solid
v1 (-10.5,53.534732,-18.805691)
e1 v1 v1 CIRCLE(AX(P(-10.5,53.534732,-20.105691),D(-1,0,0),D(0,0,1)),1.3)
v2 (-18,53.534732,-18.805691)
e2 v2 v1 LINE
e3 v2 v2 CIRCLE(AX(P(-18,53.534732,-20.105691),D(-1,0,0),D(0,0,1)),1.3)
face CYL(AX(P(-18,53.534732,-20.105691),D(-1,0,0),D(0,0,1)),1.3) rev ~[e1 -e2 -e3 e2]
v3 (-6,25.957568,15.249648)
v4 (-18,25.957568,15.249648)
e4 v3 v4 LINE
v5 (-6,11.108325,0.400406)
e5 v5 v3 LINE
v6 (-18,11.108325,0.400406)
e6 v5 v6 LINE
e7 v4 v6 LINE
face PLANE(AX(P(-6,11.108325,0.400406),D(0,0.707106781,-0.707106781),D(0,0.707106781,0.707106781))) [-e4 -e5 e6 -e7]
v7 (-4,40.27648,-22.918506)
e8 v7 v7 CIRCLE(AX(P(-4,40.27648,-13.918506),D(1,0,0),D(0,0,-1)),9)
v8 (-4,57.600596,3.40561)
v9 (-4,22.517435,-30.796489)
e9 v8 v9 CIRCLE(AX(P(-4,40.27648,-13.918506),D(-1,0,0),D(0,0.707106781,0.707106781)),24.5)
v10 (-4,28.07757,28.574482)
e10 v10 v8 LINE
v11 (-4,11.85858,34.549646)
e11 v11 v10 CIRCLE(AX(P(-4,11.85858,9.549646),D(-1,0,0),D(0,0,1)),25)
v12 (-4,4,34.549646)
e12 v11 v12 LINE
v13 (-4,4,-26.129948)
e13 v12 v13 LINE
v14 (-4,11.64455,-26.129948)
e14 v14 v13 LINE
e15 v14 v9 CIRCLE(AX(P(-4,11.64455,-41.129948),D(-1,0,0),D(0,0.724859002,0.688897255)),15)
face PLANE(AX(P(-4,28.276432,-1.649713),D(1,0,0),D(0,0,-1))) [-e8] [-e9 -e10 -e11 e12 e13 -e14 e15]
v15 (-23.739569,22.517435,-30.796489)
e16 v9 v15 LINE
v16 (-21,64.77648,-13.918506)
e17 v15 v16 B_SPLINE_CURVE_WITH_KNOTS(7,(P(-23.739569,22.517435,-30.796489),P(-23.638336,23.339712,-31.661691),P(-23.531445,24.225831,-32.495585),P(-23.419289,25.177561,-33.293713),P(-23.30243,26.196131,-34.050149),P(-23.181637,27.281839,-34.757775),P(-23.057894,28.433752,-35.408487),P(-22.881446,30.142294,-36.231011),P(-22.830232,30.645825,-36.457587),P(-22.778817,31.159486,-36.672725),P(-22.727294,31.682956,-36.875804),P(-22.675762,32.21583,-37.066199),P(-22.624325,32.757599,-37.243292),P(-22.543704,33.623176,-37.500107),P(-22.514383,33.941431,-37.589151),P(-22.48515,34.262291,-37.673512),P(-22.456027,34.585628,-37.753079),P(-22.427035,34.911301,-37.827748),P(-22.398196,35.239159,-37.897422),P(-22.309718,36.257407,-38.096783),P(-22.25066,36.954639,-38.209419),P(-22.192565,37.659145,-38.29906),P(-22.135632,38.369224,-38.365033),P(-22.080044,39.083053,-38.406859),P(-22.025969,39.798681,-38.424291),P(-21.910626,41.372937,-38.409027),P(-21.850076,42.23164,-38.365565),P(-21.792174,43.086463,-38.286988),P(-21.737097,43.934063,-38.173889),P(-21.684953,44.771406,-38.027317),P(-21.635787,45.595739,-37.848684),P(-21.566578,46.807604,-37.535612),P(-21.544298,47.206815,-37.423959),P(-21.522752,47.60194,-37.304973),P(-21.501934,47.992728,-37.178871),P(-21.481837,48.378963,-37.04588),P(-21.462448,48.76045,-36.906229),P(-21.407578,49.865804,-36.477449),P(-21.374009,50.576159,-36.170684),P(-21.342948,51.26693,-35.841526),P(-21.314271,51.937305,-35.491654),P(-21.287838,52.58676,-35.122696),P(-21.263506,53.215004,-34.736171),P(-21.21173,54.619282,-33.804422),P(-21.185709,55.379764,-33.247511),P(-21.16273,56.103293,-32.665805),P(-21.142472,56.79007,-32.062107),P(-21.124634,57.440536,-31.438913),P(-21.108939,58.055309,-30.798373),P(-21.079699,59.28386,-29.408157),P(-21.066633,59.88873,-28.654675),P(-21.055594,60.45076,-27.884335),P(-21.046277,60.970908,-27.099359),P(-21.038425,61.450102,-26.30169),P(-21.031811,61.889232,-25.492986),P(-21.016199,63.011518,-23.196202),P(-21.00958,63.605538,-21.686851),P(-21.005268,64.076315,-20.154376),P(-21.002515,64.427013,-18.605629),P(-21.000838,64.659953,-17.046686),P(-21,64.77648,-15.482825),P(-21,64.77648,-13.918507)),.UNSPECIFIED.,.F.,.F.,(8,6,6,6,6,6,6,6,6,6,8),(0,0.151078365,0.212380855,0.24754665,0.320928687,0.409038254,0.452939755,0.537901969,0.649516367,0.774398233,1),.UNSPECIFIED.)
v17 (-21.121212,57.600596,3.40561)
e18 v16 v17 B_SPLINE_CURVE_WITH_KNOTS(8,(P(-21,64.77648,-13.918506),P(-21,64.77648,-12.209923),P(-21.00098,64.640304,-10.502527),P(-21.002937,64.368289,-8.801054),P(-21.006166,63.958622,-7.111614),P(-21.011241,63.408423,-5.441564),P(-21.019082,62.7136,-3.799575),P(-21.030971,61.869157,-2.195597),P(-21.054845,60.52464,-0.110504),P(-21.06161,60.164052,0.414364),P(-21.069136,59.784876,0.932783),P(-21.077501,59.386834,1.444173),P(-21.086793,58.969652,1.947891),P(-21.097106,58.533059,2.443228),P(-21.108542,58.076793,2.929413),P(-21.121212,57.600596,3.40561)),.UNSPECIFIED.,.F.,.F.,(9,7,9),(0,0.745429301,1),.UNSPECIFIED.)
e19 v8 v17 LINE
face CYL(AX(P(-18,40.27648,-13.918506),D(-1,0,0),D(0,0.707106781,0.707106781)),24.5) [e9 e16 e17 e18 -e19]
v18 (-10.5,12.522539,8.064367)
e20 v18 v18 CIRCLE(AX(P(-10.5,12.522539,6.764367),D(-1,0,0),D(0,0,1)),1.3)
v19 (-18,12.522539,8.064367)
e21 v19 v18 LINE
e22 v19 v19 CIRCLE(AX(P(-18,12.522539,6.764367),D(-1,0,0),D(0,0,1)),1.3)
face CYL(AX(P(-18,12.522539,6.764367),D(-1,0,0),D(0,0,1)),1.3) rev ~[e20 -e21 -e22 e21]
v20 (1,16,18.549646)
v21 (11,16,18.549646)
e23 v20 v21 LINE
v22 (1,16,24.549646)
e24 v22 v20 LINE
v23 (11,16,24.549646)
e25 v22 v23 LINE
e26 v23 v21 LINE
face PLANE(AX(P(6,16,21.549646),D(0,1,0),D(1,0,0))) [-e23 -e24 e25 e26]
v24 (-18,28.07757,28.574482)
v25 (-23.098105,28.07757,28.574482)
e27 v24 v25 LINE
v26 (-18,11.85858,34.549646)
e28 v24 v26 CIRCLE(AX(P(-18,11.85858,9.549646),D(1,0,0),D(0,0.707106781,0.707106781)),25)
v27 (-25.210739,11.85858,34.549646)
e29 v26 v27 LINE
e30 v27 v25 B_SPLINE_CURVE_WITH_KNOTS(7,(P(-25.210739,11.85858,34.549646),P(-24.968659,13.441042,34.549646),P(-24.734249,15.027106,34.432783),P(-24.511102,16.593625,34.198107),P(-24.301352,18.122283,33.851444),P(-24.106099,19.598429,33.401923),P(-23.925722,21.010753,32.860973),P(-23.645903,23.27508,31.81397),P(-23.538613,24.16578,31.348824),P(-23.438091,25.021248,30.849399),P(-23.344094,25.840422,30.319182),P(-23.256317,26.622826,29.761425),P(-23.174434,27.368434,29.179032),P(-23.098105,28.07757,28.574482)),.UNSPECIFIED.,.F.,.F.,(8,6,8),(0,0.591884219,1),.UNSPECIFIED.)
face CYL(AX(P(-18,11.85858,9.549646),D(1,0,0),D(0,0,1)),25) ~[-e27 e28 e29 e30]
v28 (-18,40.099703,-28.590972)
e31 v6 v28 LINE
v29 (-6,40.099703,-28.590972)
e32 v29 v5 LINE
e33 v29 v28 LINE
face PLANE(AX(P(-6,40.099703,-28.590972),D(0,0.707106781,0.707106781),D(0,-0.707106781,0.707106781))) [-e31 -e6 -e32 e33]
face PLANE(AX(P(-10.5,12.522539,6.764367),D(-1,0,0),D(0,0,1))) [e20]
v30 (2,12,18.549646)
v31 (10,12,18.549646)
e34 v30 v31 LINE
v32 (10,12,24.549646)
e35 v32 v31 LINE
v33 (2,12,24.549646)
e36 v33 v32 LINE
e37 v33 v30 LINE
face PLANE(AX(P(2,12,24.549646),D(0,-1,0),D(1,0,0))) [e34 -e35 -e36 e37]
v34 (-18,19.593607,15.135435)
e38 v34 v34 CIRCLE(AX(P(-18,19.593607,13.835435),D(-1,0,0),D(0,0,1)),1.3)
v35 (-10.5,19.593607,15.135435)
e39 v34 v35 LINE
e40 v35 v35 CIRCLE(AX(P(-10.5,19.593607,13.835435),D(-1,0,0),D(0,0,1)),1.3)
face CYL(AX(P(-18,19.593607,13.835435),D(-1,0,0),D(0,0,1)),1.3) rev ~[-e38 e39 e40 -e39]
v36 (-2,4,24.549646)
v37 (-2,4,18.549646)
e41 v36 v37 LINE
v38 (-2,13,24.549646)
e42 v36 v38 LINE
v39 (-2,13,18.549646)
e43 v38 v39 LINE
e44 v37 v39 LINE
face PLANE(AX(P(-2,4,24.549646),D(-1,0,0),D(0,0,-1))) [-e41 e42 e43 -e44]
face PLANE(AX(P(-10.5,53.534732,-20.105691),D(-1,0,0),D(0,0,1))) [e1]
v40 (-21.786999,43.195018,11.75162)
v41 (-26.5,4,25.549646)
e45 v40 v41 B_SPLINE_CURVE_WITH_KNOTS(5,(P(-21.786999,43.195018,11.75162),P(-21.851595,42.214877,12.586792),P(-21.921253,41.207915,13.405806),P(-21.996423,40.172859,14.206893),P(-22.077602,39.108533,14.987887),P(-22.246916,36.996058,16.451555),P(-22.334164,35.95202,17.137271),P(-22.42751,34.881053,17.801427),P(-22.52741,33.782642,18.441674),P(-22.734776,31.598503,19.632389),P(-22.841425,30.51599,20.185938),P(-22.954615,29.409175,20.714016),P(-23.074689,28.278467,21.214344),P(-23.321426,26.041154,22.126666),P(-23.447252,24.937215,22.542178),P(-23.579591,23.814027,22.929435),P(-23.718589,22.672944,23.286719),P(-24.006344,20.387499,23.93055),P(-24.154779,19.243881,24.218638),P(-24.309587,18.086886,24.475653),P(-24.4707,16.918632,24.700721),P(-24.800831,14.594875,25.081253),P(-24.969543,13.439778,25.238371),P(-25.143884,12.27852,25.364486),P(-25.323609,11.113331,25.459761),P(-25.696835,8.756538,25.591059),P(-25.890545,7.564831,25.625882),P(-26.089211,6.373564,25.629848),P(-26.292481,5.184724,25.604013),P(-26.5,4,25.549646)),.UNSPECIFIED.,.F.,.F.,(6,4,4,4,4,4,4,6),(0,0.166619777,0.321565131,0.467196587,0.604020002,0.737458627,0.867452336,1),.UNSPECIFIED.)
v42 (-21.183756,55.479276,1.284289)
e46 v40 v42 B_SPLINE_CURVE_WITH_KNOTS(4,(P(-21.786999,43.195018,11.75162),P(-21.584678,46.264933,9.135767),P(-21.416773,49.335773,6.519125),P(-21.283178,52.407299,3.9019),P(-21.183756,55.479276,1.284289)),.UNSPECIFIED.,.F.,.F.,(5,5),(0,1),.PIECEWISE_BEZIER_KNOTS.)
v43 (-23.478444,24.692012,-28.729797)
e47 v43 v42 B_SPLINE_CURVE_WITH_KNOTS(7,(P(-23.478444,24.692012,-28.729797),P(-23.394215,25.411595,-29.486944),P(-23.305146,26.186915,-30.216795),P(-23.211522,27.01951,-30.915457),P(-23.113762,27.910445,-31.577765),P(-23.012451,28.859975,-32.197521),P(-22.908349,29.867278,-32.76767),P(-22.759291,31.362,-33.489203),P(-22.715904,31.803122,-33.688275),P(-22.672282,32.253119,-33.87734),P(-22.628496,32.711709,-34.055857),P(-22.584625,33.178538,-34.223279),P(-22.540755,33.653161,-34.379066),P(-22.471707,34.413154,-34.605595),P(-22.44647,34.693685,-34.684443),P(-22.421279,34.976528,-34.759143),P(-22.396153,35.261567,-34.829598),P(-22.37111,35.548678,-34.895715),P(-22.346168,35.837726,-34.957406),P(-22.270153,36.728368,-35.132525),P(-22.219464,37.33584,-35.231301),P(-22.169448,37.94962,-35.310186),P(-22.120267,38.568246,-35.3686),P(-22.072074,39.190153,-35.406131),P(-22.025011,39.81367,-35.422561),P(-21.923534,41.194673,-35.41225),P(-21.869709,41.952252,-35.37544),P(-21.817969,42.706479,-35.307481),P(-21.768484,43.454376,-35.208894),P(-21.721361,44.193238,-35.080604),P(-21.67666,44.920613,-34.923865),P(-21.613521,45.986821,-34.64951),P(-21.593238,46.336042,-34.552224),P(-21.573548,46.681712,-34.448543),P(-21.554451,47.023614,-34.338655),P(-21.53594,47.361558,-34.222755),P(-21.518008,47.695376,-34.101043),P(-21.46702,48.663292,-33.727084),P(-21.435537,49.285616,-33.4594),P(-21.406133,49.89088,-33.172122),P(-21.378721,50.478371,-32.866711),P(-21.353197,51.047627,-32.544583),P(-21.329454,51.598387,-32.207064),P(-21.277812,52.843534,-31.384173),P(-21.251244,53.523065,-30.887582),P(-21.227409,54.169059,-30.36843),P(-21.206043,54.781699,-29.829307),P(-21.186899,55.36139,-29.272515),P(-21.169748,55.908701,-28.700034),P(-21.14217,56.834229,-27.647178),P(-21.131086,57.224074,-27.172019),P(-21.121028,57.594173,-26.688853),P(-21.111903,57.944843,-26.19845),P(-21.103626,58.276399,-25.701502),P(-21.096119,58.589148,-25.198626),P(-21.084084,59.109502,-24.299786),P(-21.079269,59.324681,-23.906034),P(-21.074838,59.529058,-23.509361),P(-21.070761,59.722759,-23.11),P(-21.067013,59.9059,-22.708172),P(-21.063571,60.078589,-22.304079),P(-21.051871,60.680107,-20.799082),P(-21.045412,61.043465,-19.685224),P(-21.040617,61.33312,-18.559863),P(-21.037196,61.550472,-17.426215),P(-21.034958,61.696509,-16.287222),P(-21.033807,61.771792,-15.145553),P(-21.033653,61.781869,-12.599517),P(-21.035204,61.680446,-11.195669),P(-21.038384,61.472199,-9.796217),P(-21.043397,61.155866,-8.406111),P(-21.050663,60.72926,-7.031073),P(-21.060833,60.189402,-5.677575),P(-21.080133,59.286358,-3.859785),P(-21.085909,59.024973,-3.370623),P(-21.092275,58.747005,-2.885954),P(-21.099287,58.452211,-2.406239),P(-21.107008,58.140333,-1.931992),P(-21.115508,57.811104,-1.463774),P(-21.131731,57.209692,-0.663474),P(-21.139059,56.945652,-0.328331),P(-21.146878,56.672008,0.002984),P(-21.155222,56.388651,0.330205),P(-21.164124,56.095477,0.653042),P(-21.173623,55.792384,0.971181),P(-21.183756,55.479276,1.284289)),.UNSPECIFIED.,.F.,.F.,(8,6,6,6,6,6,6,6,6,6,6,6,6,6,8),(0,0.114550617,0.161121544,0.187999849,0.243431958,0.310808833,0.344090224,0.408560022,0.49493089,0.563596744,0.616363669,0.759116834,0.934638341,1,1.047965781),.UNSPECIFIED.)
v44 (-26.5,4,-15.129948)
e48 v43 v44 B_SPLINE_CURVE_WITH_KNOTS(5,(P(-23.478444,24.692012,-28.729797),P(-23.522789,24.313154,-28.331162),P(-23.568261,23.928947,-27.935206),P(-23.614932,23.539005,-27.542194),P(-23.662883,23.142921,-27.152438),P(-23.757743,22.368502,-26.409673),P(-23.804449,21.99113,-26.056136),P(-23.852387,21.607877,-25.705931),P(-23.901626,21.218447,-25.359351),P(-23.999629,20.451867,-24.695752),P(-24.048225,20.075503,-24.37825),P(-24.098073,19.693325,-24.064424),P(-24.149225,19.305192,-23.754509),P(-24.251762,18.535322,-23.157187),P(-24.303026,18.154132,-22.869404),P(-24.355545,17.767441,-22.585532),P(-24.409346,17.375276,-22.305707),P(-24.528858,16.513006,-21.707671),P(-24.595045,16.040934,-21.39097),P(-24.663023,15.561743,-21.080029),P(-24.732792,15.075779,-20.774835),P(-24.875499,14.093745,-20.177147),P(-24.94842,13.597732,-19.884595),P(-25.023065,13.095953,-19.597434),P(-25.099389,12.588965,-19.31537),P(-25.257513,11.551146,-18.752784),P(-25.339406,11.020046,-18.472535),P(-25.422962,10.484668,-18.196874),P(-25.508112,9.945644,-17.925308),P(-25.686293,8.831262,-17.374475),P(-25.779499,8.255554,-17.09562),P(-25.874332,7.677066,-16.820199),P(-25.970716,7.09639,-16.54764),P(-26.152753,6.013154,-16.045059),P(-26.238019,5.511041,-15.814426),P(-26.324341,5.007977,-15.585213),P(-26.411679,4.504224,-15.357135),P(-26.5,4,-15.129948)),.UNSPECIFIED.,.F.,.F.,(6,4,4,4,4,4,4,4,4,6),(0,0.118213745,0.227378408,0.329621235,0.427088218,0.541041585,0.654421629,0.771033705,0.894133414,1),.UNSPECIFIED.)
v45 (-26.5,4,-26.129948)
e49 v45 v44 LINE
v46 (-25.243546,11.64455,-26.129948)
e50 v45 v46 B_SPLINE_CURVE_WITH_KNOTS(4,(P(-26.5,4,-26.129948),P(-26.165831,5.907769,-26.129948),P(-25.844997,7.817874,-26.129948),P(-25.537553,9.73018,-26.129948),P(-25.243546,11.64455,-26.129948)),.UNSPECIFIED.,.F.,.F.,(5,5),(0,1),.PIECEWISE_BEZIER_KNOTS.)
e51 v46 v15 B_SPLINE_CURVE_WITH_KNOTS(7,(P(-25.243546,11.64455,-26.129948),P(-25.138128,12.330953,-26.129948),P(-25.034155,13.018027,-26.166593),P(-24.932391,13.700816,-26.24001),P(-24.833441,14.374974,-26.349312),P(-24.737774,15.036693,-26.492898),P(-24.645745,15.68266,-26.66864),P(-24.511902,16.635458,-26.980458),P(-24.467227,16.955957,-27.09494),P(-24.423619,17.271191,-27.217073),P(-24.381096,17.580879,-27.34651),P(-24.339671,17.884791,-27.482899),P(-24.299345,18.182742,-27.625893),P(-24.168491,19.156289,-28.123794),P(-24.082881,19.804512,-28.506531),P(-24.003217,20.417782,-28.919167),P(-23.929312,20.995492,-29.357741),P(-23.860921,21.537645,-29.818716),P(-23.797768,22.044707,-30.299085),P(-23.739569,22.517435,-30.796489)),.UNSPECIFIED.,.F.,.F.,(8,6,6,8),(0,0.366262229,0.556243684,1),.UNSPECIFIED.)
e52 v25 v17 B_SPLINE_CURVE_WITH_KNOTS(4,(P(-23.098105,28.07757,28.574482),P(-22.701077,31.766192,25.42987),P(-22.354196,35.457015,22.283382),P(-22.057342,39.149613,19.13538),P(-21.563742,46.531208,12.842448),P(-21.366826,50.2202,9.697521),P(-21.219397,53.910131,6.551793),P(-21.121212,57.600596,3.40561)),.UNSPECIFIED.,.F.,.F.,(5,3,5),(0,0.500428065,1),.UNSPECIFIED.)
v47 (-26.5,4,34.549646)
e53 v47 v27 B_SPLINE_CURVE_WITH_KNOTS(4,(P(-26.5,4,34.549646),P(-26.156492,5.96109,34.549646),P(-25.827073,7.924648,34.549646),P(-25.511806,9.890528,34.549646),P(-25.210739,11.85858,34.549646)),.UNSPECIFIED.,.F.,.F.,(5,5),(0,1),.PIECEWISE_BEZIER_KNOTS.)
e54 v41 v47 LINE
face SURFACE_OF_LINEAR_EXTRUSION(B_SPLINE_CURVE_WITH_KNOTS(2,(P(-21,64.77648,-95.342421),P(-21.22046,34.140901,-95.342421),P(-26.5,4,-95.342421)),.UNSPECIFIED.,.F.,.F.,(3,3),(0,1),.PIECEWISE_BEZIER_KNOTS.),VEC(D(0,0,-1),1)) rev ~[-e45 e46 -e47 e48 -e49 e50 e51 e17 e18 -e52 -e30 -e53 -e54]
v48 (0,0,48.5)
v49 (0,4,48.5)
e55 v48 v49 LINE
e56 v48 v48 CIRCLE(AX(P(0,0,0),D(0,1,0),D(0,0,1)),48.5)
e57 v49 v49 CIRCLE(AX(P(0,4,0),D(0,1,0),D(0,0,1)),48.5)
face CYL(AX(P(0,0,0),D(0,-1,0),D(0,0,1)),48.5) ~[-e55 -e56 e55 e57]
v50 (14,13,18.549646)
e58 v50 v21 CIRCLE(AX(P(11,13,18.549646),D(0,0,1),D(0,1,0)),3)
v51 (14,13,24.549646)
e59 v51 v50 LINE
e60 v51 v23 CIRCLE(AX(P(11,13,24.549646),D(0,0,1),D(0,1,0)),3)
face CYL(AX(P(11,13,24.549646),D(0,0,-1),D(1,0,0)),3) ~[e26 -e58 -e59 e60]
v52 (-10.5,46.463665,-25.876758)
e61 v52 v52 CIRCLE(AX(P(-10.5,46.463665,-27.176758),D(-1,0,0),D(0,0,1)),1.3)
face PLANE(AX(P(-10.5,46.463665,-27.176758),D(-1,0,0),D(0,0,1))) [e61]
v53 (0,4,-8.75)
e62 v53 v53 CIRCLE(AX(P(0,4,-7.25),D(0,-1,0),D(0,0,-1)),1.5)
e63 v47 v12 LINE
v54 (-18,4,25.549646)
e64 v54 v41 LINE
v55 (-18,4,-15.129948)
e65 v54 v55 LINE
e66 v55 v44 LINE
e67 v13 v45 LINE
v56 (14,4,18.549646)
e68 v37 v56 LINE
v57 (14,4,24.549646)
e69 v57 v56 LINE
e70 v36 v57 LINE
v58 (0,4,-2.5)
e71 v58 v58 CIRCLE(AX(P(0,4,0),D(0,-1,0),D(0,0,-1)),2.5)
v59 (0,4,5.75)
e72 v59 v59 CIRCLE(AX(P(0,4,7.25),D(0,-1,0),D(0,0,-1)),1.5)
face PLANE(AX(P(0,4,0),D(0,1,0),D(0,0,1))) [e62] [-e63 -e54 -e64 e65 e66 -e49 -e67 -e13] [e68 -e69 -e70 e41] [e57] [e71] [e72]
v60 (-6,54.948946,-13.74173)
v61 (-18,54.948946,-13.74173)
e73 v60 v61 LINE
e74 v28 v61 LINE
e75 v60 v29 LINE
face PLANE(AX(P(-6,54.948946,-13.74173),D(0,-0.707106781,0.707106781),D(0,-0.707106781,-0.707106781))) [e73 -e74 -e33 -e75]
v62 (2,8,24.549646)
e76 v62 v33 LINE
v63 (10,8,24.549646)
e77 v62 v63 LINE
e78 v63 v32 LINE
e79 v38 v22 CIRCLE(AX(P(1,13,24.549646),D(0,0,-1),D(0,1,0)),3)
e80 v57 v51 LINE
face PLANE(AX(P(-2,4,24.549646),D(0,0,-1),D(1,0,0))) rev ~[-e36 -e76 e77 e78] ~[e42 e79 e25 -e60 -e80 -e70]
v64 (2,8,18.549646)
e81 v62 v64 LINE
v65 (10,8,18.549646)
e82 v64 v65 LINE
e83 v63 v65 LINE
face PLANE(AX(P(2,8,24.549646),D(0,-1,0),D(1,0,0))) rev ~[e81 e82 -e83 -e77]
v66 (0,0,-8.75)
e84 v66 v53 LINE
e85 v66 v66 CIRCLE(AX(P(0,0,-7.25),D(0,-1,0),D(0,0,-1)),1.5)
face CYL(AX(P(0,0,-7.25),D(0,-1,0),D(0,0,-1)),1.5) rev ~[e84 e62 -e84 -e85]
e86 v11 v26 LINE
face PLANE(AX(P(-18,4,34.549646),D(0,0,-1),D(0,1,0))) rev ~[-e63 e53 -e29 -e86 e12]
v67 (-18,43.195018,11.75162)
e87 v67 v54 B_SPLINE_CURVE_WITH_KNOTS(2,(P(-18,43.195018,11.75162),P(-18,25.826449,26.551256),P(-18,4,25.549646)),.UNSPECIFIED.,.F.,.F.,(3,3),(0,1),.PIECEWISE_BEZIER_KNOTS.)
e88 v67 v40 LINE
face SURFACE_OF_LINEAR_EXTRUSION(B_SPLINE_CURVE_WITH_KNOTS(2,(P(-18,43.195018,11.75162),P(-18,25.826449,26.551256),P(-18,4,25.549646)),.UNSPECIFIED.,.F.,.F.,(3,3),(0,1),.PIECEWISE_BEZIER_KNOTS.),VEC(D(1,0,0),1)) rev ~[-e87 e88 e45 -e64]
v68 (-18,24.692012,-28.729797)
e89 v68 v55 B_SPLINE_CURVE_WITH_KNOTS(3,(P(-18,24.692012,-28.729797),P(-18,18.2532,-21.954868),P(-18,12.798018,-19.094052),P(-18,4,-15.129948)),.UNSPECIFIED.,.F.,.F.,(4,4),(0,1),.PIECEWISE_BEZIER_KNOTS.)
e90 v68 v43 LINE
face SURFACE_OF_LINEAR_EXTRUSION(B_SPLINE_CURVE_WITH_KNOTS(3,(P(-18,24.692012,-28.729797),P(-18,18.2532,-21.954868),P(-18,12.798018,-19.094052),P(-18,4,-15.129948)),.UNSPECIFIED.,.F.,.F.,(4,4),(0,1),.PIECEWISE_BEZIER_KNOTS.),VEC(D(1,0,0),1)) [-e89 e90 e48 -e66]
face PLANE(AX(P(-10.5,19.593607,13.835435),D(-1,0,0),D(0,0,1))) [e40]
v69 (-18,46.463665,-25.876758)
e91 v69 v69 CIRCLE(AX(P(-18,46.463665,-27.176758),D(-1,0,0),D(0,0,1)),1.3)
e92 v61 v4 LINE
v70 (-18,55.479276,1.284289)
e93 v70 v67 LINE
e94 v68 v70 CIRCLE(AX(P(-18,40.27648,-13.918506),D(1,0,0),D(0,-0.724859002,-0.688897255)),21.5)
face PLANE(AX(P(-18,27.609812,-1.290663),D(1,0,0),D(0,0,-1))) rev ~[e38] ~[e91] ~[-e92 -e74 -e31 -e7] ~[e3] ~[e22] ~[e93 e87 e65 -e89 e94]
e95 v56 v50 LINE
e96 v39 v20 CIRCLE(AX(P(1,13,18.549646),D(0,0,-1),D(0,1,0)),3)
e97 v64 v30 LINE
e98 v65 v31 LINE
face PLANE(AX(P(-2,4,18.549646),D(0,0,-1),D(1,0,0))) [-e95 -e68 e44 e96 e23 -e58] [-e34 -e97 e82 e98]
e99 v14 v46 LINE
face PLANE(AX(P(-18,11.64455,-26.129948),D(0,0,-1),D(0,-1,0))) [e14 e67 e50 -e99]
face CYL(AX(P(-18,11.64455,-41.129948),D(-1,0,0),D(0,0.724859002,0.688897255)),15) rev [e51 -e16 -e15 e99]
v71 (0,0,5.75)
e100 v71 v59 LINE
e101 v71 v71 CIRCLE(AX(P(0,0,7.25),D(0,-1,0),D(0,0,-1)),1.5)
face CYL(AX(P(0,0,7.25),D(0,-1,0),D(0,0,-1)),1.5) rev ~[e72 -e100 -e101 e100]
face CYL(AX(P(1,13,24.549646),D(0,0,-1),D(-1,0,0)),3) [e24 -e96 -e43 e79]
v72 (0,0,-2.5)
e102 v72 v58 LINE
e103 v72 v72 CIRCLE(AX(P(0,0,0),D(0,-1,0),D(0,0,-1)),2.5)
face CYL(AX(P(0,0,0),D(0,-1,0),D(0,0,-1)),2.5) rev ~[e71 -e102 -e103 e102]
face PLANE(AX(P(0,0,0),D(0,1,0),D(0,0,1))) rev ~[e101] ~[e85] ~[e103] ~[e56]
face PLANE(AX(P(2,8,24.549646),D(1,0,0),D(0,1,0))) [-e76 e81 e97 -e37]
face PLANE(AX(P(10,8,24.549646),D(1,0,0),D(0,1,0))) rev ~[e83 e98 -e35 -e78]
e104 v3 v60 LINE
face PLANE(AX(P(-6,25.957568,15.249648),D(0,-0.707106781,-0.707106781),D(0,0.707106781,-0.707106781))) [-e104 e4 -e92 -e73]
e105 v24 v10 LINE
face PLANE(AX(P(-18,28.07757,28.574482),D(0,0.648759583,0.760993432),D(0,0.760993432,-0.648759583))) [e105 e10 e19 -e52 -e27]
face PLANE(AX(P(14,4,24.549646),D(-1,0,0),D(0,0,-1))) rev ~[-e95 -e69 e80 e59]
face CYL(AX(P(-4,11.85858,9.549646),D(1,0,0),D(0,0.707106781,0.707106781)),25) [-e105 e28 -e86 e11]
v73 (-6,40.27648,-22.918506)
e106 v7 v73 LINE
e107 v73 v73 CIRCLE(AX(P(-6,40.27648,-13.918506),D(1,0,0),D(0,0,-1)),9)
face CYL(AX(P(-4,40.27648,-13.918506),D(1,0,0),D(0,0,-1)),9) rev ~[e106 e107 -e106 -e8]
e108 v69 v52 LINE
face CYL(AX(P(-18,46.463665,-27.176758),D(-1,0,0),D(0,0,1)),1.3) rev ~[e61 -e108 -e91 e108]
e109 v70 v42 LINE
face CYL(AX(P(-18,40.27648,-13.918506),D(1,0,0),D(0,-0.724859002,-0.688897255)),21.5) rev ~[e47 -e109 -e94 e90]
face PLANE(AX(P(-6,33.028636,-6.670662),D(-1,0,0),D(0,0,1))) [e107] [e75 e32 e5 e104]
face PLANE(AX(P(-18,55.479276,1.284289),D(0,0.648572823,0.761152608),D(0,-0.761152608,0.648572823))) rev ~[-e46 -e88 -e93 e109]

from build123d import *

# Parameters (mm, degrees)
SKETCH2_R                       = 48.5
BOSS_EXTRUDE1_DEPTH             = 4
SKETCH4_R                       = 1.5
CUT_EXTRUDE2_DEPTH              = 69.705894944
SKETCH5_R                       = 2.5
CUT_EXTRUDE3_DEPTH              = 69.705894944
BOSS_EXTRUDE2_DEPTH             = 14
CUT_EXTRUDE5_REACH              = 97.597
SKETCH9_R                       = 1.3
CUT_EXTRUDE6_DEPTH              = 7.5
CUT_EXTRUDE9_REACH              = 96.471
SKETCH11_R                      = 9
BOSS_EXTRUDE7_DEPTH             = 9
BOSS_EXTRUDE7_DIRECTION_2_REACH = 104.912
BOSS_EXTRUDE10_DEPTH            = 9
SKETCH27_W                      = 16
SKETCH27_H                      = 6
BOSS_EXTRUDE11_DEPTH            = 12
FILLET6_R                       = 3
CUT_EXTRUDE16_REACH             = 111.016
SKETCH28_W                      = 8
SKETCH28_H                      = 4
CUT_EXTRUDE17_DEPTH             = 95.342420983
CUT_EXTRUDE17_DEPTH_BACK        = 95.342420983


with BuildPart() as part:
    # Sketch2 → Boss-Extrude1 (new body)
    with BuildSketch(Plane(origin=(0, 0, 0), x_dir=(1, 0, 0), z_dir=(0, 1, 0))):
        with Locations(Location((0, 0, 0), (0, 0, 270))):
            Circle(SKETCH2_R)
    extrude(amount=BOSS_EXTRUDE1_DEPTH)

    # Sketch4 → Cut-Extrude2 (cut, through all)
    with BuildSketch(Plane.XZ):
        with Locations(Location((0, 7.25, 0), (0, 0, 270))):
            Circle(SKETCH4_R)
        with Locations(Location((0, -7.25, 0), (0, 0, 270))):
            Circle(SKETCH4_R)
    extrude(amount=-CUT_EXTRUDE2_DEPTH, mode=Mode.SUBTRACT)

    # Sketch5 → Cut-Extrude3 (cut, through all)
    with BuildSketch(Plane.XZ):
        with Locations(Location((0, 0, 0), (0, 0, 270))):
            Circle(SKETCH5_R)
    extrude(amount=-CUT_EXTRUDE3_DEPTH, mode=Mode.SUBTRACT)

    # Sketch7 → Boss-Extrude2 (add)
    with BuildSketch(Plane(origin=(-4, 0, 0), x_dir=(0, 0, -1), z_dir=(1, 0, 0))):
        with BuildLine():
            Line((23.129947874, 4), (23.129947874, 11.644549616))
            ThreePointArc((23.129947874, 11.644549616), (24.589048403, 18.743749901), (28.729797284, 24.692011643))
            ThreePointArc((28.729797284, 24.692011643), (29.313383054, 55.284736897), (-1.284289494, 55.479275971))
            Line((-1.284289494, 55.479275971), (-27.227315747, 29.536249718))
            ThreePointArc((-27.227315747, 29.536249718), (-32.64663453, 21.425665997), (-34.549646217, 11.858580188))
            Line((-34.549646217, 11.858580188), (-34.549646217, 4))
            Line((-34.549646217, 4), (23.129947874, 4))
        make_face()
    extrude(amount=-BOSS_EXTRUDE2_DEPTH)

    # Sketch8 → Cut-Extrude5 (cut, up to next)
    with BuildSketch(Plane(origin=(-6, 0, 0), x_dir=(0, 0, -1), z_dir=(1, 0, 0)), mode=Mode.PRIVATE) as cut_extrude5_sk1:
        Polygon((-15.249648422, 25.957567857), (13.741729607, 54.948945886), (28.590972012, 40.099703481), (-0.400406017, 11.108325452), align=None)
    cut_extrude5_tool1 = extrude(cut_extrude5_sk1.sketch, amount=-CUT_EXTRUDE5_REACH, mode=Mode.PRIVATE) & part.part
    add(cut_extrude5_tool1.solids().sort_by_distance((-6, 33.028636, -6.670662))[0], mode=Mode.SUBTRACT)

    # Sketch9 → Cut-Extrude6 (cut)
    with BuildSketch(Plane.ZY.offset(18)):
        with Locations((-20.105690637, 53.534732323)):
            Circle(SKETCH9_R)
        with Locations((-27.176758449, 46.463664511)):
            Circle(SKETCH9_R)
        with Locations((6.764367048, 12.522539014)):
            Circle(SKETCH9_R)
        with Locations((13.83543486, 19.593606826)):
            Circle(SKETCH9_R)
    extrude(amount=-CUT_EXTRUDE6_DEPTH, mode=Mode.SUBTRACT)

    # Sketch11 → Cut-Extrude9 (cut, up to next)
    with BuildSketch(Plane(origin=(-4, 0, 0), x_dir=(0, 0, -1), z_dir=(1, 0, 0)), mode=Mode.PRIVATE) as cut_extrude9_sk1:
        with Locations((13.918506302, 40.276480176)):
            Circle(SKETCH11_R)
    cut_extrude9_tool1 = extrude(cut_extrude9_sk1.sketch, amount=-CUT_EXTRUDE9_REACH, mode=Mode.PRIVATE) & part.part
    add(cut_extrude9_tool1.solids().sort_by_distance((-4, 40.27648, -13.918506))[0], mode=Mode.SUBTRACT)

    # Sketch17 → Boss-Extrude7 (add)
    with BuildSketch(Plane.ZY.offset(18)):
        with BuildLine():
            ThreePointArc((34.549646217, 11.858580188), (33.008342843, 20.500891953), (28.574482006, 28.077569775))
            ThreePointArc((28.574482006, 28.077569775), (27.915386359, 28.820289685), (27.227315747, 29.536249718))
            Line((27.227315747, 29.536249718), (1.284289494, 55.479275971))
            Line((1.284289494, 55.479275971), (26.295003593, 26.127182305))
            ThreePointArc((26.295003593, 26.127182305), (30.194232218, 19.461281607), (31.549646217, 11.858580188))
            Line((31.549646217, 11.858580188), (31.549646217, 4))
            Line((31.549646217, 4), (34.549646217, 4))
            Line((34.549646217, 4), (34.549646217, 11.858580188))
        make_face()
        with BuildLine():
            Line((28.574482006, 28.077569775), (3.405609837, 57.600596315))
            ThreePointArc((3.405609837, 57.600596315), (-31.461505391, 57.378912253), (-30.796489049, 22.517434639))
            ThreePointArc((-30.796489049, 22.517434639), (-27.345864981, 17.560549854), (-26.129947874, 11.644549616))
            Line((-26.129947874, 11.644549616), (-26.129947874, 4))
            Line((-26.129947874, 4), (-23.129947874, 4))
            Line((-23.129947874, 4), (-23.129947874, 11.644549616))
            ThreePointArc((-23.129947874, 11.644549616), (-24.589048403, 18.743749901), (-28.729797284, 24.692011643))
            ThreePointArc((-28.729797284, 24.692011643), (-29.313383054, 55.284736897), (1.284289494, 55.479275971))
            Line((1.284289494, 55.479275971), (27.227315747, 29.536249718))
            ThreePointArc((27.227315747, 29.536249718), (27.915386359, 28.820289685), (28.574482006, 28.077569775))
        make_face()
    extrude(amount=BOSS_EXTRUDE7_DEPTH)

    # Boss-Extrude7 direction 2: up to this face of the body (flat: up to its plane)
    boss_extrude7_direction_2_end = Plane(part.part.faces().sort_by_distance((-4, 28.276431801, -1.649713195))[0])
    # Sketch17 → Boss-Extrude7 direction 2 (add, up to the picked face)
    with BuildSketch(Plane.ZY.offset(18), mode=Mode.PRIVATE) as boss_extrude7_direction_2_sk1:
        with BuildLine():
            ThreePointArc((34.549646217, 11.858580188), (33.008342843, 20.500891953), (28.574482006, 28.077569775))
            ThreePointArc((28.574482006, 28.077569775), (27.915386359, 28.820289685), (27.227315747, 29.536249718))
            Line((27.227315747, 29.536249718), (1.284289494, 55.479275971))
            Line((1.284289494, 55.479275971), (26.295003593, 26.127182305))
            ThreePointArc((26.295003593, 26.127182305), (30.194232218, 19.461281607), (31.549646217, 11.858580188))
            Line((31.549646217, 11.858580188), (31.549646217, 4))
            Line((31.549646217, 4), (34.549646217, 4))
            Line((34.549646217, 4), (34.549646217, 11.858580188))
        make_face()
    boss_extrude7_direction_2_tool1 = split(extrude(boss_extrude7_direction_2_sk1.sketch, amount=-BOSS_EXTRUDE7_DIRECTION_2_REACH, mode=Mode.PRIVATE), bisect_by=boss_extrude7_direction_2_end, keep=Keep.BOTH, mode=Mode.PRIVATE)
    # Sketch17 → Boss-Extrude7 direction 2 (add, up to the picked face)
    with BuildSketch(Plane.ZY.offset(18), mode=Mode.PRIVATE) as boss_extrude7_direction_2_sk2:
        with BuildLine():
            Line((28.574482006, 28.077569775), (3.405609837, 57.600596315))
            ThreePointArc((3.405609837, 57.600596315), (-31.461505391, 57.378912253), (-30.796489049, 22.517434639))
            ThreePointArc((-30.796489049, 22.517434639), (-27.345864981, 17.560549854), (-26.129947874, 11.644549616))
            Line((-26.129947874, 11.644549616), (-26.129947874, 4))
            Line((-26.129947874, 4), (-23.129947874, 4))
            Line((-23.129947874, 4), (-23.129947874, 11.644549616))
            ThreePointArc((-23.129947874, 11.644549616), (-24.589048403, 18.743749901), (-28.729797284, 24.692011643))
            ThreePointArc((-28.729797284, 24.692011643), (-29.313383054, 55.284736897), (1.284289494, 55.479275971))
            Line((1.284289494, 55.479275971), (27.227315747, 29.536249718))
            ThreePointArc((27.227315747, 29.536249718), (27.915386359, 28.820289685), (28.574482006, 28.077569775))
        make_face()
    boss_extrude7_direction_2_tool2 = split(extrude(boss_extrude7_direction_2_sk2.sketch, amount=-BOSS_EXTRUDE7_DIRECTION_2_REACH, mode=Mode.PRIVATE), bisect_by=boss_extrude7_direction_2_end, keep=Keep.BOTH, mode=Mode.PRIVATE)
    add(boss_extrude7_direction_2_tool1.solids().sort_by(Axis((-18, 4.612919, 33.049646), (1, 0, 0)))[0])
    add(boss_extrude7_direction_2_tool2.solids().sort_by(Axis((-18, 43.147366, 14.895406), (1, 0, 0)))[0])

    # Sketch25 → Boss-Extrude10 (add)
    with BuildSketch(Plane.ZY.offset(18)):
        with BuildLine():
            ThreePointArc((-28.729797284, 24.692011643), (-24.589048403, 18.743749901), (-23.129947874, 11.644549616))
            Line((-23.129947874, 11.644549616), (-23.129947874, 4))
            Line((-23.129947874, 4), (-15.129947874, 4))
            add(Edge.make_bspline(
                [(-28.729797284, 24.692011643), (-21.954867515, 18.253200081), (-19.09405247, 12.798017691), (-15.129947874, 4)],
                knots=[0, 0, 0, 0, 1, 1, 1, 1], degree=3))
        make_face()
        with BuildLine():
            add(Edge.make_bspline(
                [(11.751619577, 43.19501844), (26.551255916, 25.8264495), (25.549646217, 4)],
                knots=[0, 0, 0, 1, 1, 1], degree=2))
            Line((25.549646217, 4), (31.549646217, 4))
            Line((31.549646217, 4), (31.549646217, 11.858580188))
            ThreePointArc((31.549646217, 11.858580188), (30.194232218, 19.461281607), (26.295003593, 26.127182305))
            Line((26.295003593, 26.127182305), (11.751619577, 43.19501844))
        make_face()
    extrude(amount=BOSS_EXTRUDE10_DEPTH)

    # Sketch27 → Boss-Extrude11 (add)
    with BuildSketch(Plane(origin=(0, 4, 0), x_dir=(1, 0, 0), z_dir=(0, 1, 0))):
        with Locations((6, -21.549646217)):
            Rectangle(SKETCH27_W, SKETCH27_H)
    extrude(amount=BOSS_EXTRUDE11_DEPTH)

    # Fillet6
    fillet6_edges = [part.edges().sort_by_distance(p)[0] for p in [
        (-2, 16, 21.549646217),
        (14, 16, 21.549646217),
    ]]
    fillet(fillet6_edges, radius=FILLET6_R)

    # Sketch28 → Cut-Extrude16 (cut, up to next)
    with BuildSketch(Plane.XY.offset(24.549646217), mode=Mode.PRIVATE) as cut_extrude16_sk1:
        with Locations((6, 10)):
            Rectangle(SKETCH28_W, SKETCH28_H)
    cut_extrude16_tool1 = extrude(cut_extrude16_sk1.sketch, amount=-CUT_EXTRUDE16_REACH, mode=Mode.PRIVATE) & part.part
    add(cut_extrude16_tool1.solids().sort_by_distance((6, 10, 24.549646))[0], mode=Mode.SUBTRACT)

    # Sketch29 → Cut-Extrude17 (cut, two sides: drawn at the far end of the back side and taken through both)
    with BuildSketch(Plane.XY.offset(-CUT_EXTRUDE17_DEPTH_BACK)):
        with BuildLine():
            Line((-21, 64.776480176), (-27, 64.776480176))
            Line((-27, 64.776480176), (-27, 4))
            Line((-27, 4), (-26.5, 4))
            add(Edge.make_bspline(
                [(-21, 64.776480176), (-21.220459696, 34.140901434), (-26.5, 4)],
                knots=[0, 0, 0, 1, 1, 1], degree=2))
        make_face()
    extrude(amount=CUT_EXTRUDE17_DEPTH + CUT_EXTRUDE17_DEPTH_BACK, mode=Mode.SUBTRACT)


solid = part.part
